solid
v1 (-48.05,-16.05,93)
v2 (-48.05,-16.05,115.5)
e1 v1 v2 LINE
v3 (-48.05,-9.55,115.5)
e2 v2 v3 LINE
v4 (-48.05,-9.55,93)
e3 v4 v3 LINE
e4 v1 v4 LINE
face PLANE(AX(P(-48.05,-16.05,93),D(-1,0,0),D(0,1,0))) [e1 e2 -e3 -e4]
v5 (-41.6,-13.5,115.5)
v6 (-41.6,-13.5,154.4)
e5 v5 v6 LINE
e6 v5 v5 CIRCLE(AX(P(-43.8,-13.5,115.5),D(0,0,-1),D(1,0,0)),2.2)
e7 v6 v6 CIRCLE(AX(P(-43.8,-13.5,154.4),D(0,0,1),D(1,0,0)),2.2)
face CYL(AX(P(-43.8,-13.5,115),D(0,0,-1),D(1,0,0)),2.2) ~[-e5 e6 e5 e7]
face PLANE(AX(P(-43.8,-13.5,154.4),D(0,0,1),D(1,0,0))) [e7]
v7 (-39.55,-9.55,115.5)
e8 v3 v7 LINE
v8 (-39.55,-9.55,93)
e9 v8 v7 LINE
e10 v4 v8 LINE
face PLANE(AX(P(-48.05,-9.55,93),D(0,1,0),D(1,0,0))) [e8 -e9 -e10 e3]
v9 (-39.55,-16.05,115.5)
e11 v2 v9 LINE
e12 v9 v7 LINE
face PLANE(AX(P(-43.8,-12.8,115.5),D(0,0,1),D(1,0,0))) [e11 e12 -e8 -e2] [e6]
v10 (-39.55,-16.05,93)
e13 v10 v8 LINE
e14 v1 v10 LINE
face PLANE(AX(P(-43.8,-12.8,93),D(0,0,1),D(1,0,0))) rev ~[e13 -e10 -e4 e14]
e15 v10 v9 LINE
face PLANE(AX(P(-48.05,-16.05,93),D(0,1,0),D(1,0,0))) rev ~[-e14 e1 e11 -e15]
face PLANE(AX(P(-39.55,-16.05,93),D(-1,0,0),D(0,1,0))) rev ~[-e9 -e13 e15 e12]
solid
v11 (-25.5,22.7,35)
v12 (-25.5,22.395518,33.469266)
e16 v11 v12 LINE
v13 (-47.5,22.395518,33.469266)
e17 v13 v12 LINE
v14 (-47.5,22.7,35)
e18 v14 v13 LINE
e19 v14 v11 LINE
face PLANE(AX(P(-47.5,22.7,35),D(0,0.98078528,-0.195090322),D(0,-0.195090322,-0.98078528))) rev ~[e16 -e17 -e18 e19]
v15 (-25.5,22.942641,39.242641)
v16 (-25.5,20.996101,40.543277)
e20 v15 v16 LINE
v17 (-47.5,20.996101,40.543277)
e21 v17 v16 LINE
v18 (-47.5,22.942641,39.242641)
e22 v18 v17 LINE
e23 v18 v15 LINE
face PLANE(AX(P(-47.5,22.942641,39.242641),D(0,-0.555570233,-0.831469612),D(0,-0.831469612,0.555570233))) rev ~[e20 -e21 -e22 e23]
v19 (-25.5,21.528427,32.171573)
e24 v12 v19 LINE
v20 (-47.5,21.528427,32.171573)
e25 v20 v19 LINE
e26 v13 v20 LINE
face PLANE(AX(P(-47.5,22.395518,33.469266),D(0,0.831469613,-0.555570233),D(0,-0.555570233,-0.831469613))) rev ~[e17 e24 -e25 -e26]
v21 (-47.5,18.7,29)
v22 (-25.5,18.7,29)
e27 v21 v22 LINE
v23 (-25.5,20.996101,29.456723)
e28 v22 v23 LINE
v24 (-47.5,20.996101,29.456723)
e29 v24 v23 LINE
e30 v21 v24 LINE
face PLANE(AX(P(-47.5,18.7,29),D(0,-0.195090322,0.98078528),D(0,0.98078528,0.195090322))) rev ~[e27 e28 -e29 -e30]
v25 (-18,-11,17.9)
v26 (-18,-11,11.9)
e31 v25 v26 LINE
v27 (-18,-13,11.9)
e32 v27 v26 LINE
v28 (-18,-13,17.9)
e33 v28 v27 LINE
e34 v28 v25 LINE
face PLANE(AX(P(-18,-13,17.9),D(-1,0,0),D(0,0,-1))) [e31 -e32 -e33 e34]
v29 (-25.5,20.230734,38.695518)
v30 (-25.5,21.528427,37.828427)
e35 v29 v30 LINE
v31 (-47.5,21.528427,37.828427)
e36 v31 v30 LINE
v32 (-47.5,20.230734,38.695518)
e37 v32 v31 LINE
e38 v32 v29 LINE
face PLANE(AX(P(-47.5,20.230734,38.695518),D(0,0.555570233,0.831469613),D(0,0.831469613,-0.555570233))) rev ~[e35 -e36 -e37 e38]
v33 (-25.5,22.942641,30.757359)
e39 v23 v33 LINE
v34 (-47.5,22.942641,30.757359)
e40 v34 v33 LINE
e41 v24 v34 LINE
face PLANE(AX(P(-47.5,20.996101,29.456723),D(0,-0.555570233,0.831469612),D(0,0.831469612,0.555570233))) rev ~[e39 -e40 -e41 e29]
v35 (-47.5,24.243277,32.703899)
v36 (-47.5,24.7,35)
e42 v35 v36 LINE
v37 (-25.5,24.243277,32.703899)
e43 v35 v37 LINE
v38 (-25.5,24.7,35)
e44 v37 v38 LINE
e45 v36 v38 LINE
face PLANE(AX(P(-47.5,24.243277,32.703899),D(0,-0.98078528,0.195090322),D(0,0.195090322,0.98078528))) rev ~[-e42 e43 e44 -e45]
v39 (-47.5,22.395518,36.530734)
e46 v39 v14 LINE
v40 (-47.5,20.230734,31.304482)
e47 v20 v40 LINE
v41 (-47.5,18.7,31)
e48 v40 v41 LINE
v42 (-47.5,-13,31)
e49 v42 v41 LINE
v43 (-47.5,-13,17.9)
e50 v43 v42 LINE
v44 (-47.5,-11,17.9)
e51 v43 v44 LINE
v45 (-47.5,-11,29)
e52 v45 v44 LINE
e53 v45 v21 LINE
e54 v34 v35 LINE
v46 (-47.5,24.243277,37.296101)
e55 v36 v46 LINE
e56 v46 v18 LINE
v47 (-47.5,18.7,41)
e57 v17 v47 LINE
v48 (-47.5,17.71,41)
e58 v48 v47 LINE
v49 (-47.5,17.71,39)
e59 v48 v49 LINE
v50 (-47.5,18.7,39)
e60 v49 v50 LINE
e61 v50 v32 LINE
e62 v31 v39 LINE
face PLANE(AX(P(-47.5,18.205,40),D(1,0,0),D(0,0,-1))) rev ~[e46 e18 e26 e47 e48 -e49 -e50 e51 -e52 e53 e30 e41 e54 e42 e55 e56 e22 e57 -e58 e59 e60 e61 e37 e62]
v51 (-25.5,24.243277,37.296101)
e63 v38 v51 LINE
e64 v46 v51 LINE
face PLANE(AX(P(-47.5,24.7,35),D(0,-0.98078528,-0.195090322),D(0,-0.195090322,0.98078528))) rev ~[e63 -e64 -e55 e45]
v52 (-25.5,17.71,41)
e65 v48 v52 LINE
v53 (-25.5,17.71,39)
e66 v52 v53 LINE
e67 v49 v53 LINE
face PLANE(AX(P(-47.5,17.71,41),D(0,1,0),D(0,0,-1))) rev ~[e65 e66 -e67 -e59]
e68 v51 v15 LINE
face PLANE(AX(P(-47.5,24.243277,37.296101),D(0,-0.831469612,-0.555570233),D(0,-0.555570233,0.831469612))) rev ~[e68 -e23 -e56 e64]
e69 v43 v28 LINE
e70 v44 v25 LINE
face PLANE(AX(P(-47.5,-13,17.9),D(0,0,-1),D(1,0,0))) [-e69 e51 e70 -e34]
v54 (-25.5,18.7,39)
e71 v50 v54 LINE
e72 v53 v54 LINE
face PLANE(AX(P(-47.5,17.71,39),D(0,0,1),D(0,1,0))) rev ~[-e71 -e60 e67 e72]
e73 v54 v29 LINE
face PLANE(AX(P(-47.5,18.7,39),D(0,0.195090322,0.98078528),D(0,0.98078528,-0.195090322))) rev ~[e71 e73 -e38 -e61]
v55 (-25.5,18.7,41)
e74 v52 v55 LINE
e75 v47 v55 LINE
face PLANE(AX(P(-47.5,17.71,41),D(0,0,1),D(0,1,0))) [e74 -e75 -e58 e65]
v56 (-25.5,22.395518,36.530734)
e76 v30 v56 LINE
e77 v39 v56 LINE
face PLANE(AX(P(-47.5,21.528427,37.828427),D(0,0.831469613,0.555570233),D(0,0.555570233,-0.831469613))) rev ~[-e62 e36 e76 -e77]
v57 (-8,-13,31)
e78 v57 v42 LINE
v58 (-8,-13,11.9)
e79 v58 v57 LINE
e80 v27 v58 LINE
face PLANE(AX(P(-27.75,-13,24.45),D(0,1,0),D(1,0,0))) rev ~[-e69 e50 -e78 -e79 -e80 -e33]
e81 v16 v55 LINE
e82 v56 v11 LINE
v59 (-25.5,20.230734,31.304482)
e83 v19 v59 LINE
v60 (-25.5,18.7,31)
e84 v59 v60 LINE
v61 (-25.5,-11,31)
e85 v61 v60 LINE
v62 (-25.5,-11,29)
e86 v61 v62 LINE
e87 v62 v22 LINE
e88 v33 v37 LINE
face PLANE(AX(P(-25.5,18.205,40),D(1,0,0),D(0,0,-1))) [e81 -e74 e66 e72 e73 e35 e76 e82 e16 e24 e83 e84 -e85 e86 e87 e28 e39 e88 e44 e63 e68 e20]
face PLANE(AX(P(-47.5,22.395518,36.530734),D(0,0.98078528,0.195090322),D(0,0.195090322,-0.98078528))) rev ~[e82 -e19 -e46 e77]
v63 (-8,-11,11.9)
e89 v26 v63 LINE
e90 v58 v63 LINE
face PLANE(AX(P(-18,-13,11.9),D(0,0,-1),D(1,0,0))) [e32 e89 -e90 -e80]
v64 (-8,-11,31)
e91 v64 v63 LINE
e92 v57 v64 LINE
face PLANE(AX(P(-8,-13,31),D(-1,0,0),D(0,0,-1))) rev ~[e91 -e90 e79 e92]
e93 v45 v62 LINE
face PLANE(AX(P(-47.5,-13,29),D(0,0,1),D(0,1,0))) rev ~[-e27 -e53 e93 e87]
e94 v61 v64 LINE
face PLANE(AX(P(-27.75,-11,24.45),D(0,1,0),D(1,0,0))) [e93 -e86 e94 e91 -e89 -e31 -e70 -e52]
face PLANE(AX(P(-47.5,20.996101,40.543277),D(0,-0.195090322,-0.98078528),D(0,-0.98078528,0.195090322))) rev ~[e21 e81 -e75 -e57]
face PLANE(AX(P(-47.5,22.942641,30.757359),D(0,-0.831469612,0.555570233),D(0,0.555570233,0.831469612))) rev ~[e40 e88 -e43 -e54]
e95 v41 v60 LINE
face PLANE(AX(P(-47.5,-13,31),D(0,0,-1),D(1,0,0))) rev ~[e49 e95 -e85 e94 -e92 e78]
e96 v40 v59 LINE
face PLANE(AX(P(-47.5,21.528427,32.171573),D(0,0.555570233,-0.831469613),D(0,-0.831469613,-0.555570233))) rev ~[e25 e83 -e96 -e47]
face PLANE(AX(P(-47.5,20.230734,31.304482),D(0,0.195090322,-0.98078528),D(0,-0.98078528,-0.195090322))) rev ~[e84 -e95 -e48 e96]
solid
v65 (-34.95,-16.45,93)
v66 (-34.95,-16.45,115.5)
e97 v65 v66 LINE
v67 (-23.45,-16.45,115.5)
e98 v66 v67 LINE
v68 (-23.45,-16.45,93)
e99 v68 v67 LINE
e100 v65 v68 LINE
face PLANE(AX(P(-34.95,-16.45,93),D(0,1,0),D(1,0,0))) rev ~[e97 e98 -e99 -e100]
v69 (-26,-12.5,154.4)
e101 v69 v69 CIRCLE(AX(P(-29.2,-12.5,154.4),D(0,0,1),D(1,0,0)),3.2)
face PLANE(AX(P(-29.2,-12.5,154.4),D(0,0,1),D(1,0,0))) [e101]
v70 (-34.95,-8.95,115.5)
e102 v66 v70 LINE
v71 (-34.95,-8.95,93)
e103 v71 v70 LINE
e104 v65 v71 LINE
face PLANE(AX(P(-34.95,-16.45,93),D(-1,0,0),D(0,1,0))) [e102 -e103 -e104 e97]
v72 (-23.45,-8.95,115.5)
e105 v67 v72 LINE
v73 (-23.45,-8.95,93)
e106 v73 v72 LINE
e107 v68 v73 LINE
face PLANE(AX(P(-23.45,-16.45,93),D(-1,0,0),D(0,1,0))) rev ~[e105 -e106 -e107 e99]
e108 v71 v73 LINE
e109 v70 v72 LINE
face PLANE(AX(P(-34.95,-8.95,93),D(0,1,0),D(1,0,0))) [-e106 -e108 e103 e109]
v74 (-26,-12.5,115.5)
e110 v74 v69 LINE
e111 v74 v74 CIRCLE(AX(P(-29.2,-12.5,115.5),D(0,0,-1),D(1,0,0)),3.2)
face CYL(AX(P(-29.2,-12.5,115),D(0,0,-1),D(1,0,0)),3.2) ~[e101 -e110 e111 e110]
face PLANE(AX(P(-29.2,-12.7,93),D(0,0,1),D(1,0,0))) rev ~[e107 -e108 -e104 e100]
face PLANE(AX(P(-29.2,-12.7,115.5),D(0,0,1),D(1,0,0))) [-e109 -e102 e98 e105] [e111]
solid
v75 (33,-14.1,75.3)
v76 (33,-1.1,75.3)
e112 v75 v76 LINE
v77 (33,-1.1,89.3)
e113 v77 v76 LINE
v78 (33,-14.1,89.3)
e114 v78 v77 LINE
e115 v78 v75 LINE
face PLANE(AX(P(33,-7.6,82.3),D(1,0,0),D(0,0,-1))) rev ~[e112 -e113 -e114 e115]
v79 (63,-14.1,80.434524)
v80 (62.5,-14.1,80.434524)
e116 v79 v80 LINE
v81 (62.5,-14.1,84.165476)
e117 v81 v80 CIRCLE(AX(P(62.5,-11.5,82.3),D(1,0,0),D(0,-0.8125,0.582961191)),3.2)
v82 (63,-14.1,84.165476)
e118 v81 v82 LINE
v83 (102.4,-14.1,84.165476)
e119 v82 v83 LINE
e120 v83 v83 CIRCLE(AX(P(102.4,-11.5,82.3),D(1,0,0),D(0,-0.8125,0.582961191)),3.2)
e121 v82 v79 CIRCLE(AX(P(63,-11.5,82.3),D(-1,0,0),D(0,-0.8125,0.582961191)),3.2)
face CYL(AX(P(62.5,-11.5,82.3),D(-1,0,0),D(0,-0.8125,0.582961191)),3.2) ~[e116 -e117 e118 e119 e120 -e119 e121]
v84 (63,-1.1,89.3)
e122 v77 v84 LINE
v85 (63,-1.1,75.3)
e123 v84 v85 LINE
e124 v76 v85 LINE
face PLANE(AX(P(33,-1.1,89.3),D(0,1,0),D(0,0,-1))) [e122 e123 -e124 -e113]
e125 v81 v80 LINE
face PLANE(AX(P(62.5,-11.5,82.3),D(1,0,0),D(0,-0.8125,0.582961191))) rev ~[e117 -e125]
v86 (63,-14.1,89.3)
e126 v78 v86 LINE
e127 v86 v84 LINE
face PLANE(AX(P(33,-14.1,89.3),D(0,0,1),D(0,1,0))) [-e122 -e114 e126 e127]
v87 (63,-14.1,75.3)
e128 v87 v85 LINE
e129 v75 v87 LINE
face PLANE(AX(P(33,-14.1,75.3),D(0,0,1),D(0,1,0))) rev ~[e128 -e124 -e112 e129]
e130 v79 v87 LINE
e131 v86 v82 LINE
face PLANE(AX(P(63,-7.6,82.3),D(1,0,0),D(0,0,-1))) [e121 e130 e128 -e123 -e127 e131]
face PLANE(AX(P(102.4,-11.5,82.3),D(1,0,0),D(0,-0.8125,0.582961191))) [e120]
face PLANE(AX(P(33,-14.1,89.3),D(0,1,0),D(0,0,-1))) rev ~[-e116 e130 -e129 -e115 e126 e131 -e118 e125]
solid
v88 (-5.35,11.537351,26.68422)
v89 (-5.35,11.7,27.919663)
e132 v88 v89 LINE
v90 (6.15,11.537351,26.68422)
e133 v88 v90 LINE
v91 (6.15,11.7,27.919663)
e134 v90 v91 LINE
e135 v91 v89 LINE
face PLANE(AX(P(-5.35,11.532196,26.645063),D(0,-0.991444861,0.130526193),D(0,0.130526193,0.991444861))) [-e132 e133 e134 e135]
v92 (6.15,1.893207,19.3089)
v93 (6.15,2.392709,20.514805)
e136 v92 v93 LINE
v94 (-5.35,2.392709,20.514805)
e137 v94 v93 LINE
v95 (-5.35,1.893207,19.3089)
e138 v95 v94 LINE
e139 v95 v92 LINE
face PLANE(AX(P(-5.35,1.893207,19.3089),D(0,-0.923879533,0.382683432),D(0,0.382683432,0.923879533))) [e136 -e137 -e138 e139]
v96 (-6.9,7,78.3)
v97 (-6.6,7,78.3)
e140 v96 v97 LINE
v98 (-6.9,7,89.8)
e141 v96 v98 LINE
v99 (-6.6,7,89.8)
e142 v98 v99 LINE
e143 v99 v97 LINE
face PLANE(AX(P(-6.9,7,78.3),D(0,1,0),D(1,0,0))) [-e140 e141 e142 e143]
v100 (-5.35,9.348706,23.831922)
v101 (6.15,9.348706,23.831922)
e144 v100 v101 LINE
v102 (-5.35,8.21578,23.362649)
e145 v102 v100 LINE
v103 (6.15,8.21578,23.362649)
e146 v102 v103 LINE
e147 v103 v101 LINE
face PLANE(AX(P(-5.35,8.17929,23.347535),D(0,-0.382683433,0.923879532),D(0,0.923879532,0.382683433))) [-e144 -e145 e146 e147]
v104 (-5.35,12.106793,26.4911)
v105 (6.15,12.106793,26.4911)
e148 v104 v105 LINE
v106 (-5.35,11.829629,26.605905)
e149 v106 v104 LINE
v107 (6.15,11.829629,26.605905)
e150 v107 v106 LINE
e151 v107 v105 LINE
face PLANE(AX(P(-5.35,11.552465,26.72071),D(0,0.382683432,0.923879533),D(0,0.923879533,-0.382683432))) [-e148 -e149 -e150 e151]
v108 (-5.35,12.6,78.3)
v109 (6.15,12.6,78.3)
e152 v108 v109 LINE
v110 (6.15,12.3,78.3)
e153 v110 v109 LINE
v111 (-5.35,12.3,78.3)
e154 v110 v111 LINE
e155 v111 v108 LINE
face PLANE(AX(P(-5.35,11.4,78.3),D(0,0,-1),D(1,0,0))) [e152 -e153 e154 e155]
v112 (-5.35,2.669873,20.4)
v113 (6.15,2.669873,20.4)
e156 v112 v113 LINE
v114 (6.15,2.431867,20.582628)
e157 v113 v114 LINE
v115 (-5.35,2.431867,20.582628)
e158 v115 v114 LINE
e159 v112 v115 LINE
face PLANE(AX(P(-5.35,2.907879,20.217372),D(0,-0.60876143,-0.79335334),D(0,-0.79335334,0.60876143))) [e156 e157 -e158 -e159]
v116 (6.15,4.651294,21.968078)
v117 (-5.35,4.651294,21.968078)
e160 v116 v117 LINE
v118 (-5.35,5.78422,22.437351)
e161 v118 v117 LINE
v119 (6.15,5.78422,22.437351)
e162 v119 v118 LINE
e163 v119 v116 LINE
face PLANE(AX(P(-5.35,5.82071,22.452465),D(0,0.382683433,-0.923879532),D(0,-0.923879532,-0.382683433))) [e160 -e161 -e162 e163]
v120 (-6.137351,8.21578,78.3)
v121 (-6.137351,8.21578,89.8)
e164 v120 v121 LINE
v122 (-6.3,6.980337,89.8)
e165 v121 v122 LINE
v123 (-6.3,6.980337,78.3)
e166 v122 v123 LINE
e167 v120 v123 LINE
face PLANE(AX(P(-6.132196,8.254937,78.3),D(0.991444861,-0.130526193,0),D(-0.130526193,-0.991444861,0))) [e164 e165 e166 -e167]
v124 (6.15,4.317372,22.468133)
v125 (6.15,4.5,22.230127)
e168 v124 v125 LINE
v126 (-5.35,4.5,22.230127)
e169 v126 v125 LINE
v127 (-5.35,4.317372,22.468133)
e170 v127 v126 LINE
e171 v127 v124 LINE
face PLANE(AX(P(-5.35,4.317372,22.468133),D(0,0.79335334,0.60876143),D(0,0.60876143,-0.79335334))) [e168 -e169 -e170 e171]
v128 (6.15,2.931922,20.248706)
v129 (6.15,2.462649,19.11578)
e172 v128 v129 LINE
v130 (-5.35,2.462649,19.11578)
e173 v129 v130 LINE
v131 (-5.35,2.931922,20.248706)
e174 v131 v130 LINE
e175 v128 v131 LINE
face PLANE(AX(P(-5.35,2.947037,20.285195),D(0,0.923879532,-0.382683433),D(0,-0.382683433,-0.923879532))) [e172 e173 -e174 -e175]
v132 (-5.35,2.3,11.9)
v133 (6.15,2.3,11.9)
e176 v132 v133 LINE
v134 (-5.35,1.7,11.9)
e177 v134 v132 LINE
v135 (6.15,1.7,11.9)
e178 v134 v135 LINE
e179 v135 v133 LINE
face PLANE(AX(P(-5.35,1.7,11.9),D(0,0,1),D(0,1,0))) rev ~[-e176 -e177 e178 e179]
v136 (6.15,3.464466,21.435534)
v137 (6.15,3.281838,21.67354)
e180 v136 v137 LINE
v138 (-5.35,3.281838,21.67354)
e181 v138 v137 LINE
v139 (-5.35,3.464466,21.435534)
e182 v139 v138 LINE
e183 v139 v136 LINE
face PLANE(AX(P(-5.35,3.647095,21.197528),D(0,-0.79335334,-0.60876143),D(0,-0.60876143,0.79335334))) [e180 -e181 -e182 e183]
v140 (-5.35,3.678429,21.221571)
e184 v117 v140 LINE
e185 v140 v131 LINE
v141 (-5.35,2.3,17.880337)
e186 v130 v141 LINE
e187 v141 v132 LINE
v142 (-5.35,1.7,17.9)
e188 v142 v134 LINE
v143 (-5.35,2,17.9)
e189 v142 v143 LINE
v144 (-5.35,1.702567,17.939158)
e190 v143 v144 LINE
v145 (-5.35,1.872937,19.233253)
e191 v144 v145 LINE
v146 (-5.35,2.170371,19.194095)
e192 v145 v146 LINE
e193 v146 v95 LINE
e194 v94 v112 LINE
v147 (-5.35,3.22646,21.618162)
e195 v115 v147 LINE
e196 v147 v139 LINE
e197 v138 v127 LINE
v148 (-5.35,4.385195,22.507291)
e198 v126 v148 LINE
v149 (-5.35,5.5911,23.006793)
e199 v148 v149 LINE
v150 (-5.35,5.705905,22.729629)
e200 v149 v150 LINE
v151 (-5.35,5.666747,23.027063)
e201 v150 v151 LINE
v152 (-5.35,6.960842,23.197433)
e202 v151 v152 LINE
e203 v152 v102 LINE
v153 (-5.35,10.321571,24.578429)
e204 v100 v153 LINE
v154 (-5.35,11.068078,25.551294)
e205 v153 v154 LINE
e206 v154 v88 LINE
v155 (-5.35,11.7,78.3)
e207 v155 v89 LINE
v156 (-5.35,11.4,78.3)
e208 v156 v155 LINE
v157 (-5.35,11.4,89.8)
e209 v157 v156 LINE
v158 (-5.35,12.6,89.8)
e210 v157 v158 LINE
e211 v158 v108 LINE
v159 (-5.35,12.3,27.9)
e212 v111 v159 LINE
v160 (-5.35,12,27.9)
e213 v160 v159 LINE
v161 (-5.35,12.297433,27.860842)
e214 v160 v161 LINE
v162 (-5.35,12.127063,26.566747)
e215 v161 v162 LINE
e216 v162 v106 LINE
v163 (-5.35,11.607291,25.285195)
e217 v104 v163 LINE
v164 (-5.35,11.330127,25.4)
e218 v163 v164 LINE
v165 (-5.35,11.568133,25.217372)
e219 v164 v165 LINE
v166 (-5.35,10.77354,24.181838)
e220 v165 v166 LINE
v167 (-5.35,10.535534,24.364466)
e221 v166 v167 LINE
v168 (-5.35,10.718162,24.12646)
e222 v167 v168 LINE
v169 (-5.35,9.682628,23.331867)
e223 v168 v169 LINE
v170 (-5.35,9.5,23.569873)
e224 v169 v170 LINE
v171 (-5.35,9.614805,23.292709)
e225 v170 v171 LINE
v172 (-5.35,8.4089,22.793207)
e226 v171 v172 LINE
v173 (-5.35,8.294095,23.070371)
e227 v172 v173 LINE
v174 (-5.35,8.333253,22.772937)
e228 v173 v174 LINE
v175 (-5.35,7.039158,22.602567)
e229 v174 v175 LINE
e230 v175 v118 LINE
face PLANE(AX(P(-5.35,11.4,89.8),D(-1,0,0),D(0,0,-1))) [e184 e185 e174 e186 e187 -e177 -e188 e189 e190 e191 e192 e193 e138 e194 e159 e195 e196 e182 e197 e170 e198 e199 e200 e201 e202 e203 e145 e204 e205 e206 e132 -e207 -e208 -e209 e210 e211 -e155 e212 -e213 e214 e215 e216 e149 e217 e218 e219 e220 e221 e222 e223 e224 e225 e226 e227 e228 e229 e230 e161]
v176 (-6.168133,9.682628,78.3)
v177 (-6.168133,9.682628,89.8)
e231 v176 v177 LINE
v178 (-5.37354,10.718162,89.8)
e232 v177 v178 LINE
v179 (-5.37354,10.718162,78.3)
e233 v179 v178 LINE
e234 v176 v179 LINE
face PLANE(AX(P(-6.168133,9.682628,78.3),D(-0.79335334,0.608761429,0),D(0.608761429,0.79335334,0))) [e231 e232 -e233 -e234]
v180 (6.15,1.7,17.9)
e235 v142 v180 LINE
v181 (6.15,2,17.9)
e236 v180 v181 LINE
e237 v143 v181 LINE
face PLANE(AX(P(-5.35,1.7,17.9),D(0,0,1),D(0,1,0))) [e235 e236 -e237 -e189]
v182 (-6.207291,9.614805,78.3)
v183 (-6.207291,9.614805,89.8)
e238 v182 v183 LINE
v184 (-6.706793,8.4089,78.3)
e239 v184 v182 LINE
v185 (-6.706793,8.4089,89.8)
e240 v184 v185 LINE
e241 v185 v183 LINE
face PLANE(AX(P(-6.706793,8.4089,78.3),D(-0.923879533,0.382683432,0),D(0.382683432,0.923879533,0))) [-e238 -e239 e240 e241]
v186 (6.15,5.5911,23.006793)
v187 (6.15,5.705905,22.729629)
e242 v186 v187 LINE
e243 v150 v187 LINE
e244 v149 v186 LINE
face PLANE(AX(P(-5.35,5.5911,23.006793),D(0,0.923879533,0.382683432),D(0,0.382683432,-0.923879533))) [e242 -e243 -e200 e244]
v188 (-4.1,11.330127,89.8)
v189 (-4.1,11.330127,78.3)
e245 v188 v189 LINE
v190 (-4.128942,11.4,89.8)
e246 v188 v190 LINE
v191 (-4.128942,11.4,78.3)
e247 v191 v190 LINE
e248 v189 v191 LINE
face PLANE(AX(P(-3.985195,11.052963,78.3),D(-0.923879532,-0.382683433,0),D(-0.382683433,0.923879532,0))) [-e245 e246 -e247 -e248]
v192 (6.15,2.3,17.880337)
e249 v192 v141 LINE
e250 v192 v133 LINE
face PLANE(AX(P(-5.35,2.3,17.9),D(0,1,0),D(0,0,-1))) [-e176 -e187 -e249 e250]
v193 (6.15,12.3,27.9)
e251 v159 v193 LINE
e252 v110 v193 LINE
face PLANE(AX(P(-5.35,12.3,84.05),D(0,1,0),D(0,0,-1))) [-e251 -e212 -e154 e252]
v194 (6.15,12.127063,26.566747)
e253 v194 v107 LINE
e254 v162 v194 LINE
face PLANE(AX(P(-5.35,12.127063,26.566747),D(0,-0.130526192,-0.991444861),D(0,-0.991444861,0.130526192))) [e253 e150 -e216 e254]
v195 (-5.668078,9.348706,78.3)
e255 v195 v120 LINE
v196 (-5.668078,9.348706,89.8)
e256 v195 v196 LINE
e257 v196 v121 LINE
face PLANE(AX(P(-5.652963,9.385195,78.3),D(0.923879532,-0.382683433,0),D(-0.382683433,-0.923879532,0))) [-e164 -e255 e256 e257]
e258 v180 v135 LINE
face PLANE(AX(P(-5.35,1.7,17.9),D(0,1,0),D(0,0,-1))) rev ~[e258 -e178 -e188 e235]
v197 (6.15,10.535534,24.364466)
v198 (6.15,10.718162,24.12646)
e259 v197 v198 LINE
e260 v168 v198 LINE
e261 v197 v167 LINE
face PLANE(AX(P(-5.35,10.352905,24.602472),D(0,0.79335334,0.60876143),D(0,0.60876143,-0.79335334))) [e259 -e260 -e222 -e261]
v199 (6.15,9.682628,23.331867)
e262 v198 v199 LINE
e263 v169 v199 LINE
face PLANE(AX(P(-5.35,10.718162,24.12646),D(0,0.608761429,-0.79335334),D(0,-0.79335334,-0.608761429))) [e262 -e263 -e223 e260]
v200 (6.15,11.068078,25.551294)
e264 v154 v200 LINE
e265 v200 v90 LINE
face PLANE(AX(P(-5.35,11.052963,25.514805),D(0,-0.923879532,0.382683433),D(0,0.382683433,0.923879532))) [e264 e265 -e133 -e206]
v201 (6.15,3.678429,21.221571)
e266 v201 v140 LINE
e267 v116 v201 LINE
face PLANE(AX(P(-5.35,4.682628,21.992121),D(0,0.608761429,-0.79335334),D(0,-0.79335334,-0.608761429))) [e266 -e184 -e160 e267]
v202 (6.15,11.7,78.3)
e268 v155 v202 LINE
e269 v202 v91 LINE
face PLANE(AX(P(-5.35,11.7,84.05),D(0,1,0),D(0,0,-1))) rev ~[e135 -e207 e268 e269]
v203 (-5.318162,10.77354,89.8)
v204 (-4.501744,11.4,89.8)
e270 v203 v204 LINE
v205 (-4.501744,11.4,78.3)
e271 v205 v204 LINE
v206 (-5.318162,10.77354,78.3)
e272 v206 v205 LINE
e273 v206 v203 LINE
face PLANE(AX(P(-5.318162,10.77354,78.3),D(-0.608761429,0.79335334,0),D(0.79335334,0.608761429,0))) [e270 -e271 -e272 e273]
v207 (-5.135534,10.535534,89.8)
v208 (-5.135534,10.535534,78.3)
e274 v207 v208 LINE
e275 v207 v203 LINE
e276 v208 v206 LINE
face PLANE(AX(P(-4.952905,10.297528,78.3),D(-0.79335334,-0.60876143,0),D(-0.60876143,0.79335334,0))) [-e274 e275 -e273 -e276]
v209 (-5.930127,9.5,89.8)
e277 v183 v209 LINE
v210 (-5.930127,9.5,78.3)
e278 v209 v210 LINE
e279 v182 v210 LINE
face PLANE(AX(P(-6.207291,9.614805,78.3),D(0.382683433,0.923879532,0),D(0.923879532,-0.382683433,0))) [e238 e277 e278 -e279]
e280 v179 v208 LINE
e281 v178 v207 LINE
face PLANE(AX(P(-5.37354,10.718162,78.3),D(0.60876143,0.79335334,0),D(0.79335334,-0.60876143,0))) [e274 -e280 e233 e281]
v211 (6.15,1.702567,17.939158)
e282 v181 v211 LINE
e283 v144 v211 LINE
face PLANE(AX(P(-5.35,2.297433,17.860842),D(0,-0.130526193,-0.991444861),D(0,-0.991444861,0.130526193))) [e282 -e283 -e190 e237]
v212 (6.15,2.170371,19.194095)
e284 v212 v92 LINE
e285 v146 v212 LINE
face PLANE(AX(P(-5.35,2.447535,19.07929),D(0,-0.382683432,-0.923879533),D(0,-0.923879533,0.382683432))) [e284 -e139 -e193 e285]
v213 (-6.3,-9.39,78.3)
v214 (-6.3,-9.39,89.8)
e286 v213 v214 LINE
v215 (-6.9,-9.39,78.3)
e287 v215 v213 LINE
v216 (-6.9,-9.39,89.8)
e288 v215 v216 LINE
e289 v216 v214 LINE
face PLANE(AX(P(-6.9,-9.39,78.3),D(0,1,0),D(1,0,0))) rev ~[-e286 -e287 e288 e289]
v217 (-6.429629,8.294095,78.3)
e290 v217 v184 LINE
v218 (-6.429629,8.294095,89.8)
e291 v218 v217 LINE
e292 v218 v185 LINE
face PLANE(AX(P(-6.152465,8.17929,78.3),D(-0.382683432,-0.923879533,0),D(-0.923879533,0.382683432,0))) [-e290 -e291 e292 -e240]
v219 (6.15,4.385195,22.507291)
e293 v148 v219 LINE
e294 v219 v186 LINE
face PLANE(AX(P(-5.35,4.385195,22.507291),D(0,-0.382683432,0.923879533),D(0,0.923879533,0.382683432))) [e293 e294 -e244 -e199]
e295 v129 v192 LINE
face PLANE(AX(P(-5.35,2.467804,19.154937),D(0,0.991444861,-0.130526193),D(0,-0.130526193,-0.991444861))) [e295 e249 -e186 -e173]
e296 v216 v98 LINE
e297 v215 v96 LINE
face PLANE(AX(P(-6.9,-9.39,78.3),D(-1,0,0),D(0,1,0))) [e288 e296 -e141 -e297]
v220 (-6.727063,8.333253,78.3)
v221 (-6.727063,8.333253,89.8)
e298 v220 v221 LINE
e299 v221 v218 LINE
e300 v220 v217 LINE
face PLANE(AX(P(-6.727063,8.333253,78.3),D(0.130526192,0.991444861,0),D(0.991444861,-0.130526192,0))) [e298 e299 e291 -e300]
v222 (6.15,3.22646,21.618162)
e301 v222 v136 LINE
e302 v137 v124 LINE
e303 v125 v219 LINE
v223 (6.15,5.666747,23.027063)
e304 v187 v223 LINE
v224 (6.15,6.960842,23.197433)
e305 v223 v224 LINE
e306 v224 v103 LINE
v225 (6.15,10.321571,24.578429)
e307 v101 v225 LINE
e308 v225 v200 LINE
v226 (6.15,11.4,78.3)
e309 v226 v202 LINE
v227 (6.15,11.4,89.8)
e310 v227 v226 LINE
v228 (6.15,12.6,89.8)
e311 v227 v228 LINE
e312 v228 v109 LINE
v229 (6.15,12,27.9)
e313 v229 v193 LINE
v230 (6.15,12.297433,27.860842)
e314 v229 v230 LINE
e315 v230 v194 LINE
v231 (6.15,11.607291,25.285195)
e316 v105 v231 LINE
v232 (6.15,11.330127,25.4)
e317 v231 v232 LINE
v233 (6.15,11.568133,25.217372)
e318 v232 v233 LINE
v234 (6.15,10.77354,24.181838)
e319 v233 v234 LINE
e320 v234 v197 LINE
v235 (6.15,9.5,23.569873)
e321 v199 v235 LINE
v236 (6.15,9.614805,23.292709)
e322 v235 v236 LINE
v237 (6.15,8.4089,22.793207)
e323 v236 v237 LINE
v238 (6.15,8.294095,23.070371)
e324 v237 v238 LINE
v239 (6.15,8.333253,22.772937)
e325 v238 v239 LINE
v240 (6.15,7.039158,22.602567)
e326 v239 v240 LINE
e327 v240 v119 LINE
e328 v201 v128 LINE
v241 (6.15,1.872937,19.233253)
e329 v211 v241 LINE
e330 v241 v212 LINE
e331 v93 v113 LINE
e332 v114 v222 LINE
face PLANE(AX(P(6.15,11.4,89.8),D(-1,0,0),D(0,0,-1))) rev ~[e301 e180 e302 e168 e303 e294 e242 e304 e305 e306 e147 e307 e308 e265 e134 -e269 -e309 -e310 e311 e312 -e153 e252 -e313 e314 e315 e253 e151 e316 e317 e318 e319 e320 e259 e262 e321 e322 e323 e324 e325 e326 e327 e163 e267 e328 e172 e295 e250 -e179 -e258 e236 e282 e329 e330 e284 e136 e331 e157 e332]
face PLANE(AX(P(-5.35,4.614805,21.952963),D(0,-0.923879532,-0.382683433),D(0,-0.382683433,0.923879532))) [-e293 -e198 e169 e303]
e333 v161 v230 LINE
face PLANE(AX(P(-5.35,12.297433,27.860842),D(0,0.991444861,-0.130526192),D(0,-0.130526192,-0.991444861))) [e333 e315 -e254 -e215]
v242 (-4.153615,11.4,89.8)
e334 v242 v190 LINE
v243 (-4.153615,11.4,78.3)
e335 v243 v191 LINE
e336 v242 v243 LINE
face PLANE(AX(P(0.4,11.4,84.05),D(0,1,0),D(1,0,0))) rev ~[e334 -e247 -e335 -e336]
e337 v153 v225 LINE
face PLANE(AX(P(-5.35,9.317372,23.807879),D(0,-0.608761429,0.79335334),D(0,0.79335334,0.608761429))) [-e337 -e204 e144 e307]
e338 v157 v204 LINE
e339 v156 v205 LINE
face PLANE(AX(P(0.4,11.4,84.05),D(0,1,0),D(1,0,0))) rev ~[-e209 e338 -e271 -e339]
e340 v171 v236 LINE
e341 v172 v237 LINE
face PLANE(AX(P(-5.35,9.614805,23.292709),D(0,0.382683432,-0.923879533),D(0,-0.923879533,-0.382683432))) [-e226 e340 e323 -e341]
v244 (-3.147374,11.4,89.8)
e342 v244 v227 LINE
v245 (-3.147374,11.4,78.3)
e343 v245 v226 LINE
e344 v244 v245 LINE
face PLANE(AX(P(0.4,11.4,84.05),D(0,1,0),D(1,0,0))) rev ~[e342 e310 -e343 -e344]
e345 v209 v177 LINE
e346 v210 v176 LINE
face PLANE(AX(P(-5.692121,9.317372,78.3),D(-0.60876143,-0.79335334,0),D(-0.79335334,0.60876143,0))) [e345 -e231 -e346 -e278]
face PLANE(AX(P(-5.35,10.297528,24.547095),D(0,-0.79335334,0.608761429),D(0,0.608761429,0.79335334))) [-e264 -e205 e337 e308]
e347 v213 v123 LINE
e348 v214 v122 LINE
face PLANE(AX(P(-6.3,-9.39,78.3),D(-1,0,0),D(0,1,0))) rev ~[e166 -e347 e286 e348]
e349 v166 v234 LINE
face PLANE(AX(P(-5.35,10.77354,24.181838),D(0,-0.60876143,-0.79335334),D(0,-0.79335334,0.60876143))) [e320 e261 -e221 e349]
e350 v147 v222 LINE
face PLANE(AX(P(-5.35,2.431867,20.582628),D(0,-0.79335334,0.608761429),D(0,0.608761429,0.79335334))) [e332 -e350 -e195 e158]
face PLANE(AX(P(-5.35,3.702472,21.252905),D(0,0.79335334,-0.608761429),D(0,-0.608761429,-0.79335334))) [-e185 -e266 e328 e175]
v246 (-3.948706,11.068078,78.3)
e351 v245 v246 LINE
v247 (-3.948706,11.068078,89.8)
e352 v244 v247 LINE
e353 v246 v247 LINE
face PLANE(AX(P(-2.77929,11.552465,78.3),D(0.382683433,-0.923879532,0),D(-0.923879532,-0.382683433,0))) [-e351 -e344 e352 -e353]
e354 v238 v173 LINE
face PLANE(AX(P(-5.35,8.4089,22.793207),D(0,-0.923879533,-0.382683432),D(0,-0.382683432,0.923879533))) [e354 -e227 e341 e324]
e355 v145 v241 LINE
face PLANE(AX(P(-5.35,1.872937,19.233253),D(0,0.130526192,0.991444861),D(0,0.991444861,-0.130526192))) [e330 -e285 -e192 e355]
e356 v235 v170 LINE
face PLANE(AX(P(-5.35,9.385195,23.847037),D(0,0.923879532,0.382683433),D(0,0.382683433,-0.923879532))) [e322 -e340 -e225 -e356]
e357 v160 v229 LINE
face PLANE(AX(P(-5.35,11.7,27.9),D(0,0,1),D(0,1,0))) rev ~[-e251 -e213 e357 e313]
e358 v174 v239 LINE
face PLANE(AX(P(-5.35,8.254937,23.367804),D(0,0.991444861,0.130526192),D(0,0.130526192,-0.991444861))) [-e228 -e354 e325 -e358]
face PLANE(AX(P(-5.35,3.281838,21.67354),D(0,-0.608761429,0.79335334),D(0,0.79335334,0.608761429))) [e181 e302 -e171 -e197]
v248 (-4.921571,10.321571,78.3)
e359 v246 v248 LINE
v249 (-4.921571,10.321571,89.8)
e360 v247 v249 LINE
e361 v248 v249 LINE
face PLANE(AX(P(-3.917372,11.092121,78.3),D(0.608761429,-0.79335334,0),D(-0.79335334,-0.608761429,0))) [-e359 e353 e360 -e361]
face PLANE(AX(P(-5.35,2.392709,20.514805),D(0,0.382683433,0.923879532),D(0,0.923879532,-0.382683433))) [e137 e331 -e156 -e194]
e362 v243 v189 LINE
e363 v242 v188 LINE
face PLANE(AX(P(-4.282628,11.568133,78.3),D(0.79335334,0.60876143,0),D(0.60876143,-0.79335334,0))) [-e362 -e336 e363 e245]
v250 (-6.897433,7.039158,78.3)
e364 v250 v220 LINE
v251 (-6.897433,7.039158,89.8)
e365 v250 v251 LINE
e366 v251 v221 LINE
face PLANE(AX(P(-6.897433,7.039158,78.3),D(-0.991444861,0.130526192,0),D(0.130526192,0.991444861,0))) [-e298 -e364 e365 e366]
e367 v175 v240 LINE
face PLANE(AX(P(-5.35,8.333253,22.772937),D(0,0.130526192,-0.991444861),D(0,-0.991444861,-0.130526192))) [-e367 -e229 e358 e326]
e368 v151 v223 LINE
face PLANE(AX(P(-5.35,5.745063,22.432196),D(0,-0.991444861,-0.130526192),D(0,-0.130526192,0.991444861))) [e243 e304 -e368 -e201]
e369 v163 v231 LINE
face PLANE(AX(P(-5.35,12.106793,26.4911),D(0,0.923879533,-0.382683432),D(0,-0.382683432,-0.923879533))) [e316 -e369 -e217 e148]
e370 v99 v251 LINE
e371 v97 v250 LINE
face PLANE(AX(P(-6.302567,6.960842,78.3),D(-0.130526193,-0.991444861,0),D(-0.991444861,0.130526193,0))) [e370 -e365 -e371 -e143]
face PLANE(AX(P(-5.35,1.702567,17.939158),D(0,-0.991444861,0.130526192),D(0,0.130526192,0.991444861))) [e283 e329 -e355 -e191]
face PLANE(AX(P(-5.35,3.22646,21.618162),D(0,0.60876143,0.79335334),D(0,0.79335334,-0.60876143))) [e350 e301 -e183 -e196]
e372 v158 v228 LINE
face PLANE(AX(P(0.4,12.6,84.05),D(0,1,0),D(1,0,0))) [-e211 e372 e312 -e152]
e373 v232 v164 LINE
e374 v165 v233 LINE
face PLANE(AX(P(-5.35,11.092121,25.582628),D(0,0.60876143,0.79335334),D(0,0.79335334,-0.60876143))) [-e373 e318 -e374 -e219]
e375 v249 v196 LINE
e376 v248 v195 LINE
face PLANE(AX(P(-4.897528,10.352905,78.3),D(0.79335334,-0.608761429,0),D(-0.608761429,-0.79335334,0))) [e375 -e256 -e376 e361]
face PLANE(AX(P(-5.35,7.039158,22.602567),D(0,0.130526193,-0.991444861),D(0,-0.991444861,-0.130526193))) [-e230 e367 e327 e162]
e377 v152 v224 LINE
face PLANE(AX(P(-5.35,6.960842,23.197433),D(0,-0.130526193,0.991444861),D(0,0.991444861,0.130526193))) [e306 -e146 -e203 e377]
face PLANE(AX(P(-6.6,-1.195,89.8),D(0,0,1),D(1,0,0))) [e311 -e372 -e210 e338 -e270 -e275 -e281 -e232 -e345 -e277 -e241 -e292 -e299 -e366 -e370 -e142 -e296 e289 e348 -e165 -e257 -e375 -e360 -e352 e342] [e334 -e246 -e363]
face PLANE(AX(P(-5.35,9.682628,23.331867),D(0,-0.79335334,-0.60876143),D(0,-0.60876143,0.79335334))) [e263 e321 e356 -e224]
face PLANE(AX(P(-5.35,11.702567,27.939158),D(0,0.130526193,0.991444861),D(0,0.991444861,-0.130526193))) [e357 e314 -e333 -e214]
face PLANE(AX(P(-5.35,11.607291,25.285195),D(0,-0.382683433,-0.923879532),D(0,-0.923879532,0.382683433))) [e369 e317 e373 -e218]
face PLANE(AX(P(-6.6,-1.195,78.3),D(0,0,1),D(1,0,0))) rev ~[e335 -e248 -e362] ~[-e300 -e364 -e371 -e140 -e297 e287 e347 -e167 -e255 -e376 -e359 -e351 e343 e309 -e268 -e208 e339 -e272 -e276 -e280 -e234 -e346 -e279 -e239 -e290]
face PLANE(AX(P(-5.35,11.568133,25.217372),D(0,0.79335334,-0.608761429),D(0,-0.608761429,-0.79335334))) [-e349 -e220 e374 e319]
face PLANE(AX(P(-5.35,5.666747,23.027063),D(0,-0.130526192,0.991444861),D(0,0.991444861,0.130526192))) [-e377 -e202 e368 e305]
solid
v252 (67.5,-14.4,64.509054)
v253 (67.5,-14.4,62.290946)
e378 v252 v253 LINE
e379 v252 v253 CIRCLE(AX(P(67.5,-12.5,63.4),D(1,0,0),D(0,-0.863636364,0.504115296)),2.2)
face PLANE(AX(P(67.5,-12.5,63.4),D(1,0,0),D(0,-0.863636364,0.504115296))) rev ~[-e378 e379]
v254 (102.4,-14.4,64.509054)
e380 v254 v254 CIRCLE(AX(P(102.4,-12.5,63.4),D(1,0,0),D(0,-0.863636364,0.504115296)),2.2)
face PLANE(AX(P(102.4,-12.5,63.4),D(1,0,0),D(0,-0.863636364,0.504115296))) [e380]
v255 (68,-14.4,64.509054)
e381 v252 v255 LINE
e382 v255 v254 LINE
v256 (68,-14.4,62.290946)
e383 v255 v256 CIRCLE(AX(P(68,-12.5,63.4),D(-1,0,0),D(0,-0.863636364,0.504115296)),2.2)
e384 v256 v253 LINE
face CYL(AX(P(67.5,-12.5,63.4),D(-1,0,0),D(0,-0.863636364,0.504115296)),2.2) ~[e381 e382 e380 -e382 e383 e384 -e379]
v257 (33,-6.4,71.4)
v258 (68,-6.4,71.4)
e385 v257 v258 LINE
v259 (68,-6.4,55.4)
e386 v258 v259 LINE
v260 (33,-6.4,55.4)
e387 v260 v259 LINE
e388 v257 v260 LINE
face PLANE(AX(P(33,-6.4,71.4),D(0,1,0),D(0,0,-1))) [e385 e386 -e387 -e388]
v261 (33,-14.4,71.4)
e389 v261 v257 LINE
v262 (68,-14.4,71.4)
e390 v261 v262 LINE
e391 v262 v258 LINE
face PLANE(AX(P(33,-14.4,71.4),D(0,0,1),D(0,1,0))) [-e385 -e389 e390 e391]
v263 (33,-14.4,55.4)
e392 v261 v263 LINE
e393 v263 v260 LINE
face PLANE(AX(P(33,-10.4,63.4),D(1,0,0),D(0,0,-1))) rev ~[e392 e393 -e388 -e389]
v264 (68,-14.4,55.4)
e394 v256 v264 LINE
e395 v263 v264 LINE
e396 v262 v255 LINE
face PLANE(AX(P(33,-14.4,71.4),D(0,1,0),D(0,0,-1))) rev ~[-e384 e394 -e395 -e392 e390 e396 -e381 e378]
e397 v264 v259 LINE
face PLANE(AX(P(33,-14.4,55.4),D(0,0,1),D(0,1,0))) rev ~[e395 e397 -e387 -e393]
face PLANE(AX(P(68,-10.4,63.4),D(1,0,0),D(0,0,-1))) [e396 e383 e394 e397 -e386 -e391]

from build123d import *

# Parameters (mm, degrees)
SKETCH1_W                   = 8.5
SKETCH1_H                   = 6.5
PLUG_USBC_DEPTH             = 22.5
SKETCH2_R                   = 2.2
CABLE_USBC_DEPTH            = 39.4
SKETCH3_W                   = 11.5
SKETCH3_H                   = 7.5
PLUG_HDMI_DEPTH             = 22.5
SKETCH4_R                   = 3.2
CABLE_HDMI_DEPTH            = 39.4
SKETCH5_W                   = 14
SKETCH5_H                   = 13
PLUG_ETH_DEPTH              = 30
SKETCH6_R                   = 3.2
CABLE_ETH_DEPTH             = 39.9
SKETCH7_W                   = 16
SKETCH7_H                   = 8
PLUG_USBA_DEPTH             = 35
SKETCH8_R                   = 2.2
CABLE_USBA_DEPTH            = 34.9
SKETCH9_W                   = 6
SKETCH9_H                   = 0.6
RIBBON_0_DEPTH              = 11.5
RIBBON_1_DEPTH              = 11.5
RIBBON_2_DEPTH              = 11.5
RIBBON_3_DEPTH              = 11.5
RIBBON_4_DEPTH              = 11.5
RIBBON_5_DEPTH              = 11.5
RIBBON_6_DEPTH              = 11.5
RIBBON_7_DEPTH              = 11.5
RIBBON_8_DEPTH              = 11.5
RIBBON_9_DEPTH              = 11.5
RIBBON_10_DEPTH             = 11.5
RIBBON_11_DEPTH             = 11.5
RIBBON_12_DEPTH             = 11.5
SKETCH22_W                  = 56.15
SKETCH22_H                  = 0.6
RIBBON_13_DEPTH             = 11.5
SKETCH23_W                  = 11.5
SKETCH23_H                  = 11.5
RIBBON_FOLD_DEPTH           = 1.2
SKETCH24_W                  = 2
SKETCH24_H                  = 0.6
RIBBON_14_DEPTH             = 11.5
RIBBON_15_DEPTH             = 11.5
RIBBON_16_DEPTH             = 11.5
RIBBON_17_DEPTH             = 11.5
RIBBON_18_DEPTH             = 11.5
RIBBON_19_DEPTH             = 11.5
RIBBON_20_DEPTH             = 11.5
SKETCH31_W                  = 0.6
SKETCH31_H                  = 16.39
RIBBON_21_DEPTH             = 11.5
SKETCH32_W                  = 10
SKETCH32_H                  = 6
JUMPERS_WINDOW_DEPTH        = 2
SKETCH33_W                  = 39.5
SKETCH33_H                  = 13.1
JUMPERS_ACROSS_DEPTH        = 2
SKETCH34_W                  = 2
SKETCH34_H                  = 31.7
JUMPERS_RISE_DEPTH          = 22
JUMPERS_HAIRPIN_DEPTH       = 22
SKETCH36_W                  = 2
SKETCH36_H                  = 0.99
JUMPERS_INTO_HOUSINGS_DEPTH = 22


with BuildPart() as part:
    # Sketch1 → Plug usbc (new body)
    with BuildSketch(Plane.XY.offset(93)):
        with Locations((-43.8, -12.8)):
            Rectangle(SKETCH1_W, SKETCH1_H)
    extrude(amount=PLUG_USBC_DEPTH)

    # Sketch2 → Cable usbc (add)
    with BuildSketch(Plane.XY.offset(115)):
        with Locations((-43.8, -13.5)):
            Circle(SKETCH2_R)
    extrude(amount=CABLE_USBC_DEPTH)


with BuildPart() as body_2:
    # Sketch3 → Plug hdmi (new body)
    with BuildSketch(Plane.XY.offset(93)):
        with Locations((-29.2, -12.7)):
            Rectangle(SKETCH3_W, SKETCH3_H)
    extrude(amount=PLUG_HDMI_DEPTH)

    # Sketch4 → Cable hdmi (add)
    with BuildSketch(Plane.XY.offset(115)):
        with Locations((-29.2, -12.5)):
            Circle(SKETCH4_R)
    extrude(amount=CABLE_HDMI_DEPTH)


with BuildPart() as body_3:
    # Sketch5 → Plug eth (new body)
    with BuildSketch(Plane(origin=(33, 0, 0), x_dir=(0, 0, -1), z_dir=(1, 0, 0))):
        with Locations((-82.3, -7.6)):
            Rectangle(SKETCH5_W, SKETCH5_H)
    extrude(amount=PLUG_ETH_DEPTH)

    # Sketch6 → Cable eth (add)
    with BuildSketch(Plane(origin=(62.5, 0, 0), x_dir=(0, 0, -1), z_dir=(1, 0, 0))):
        with Locations(Location((-82.3, -11.5, 0), (0, 0, 234.340912304))):
            Circle(SKETCH6_R)
    extrude(amount=CABLE_ETH_DEPTH)


with BuildPart() as body_4:
    # Sketch7 → Plug usba (new body)
    with BuildSketch(Plane(origin=(33, 0, 0), x_dir=(0, 0, -1), z_dir=(1, 0, 0))):
        with Locations((-63.4, -10.4)):
            Rectangle(SKETCH7_W, SKETCH7_H)
    extrude(amount=PLUG_USBA_DEPTH)

    # Sketch8 → Cable usba (add)
    with BuildSketch(Plane(origin=(67.5, 0, 0), x_dir=(0, 0, -1), z_dir=(1, 0, 0))):
        with Locations(Location((-63.4, -12.5, 0), (0, 0, 239.727358681))):
            Circle(SKETCH8_R)
    extrude(amount=CABLE_USBA_DEPTH)


with BuildPart() as body_5:
    # Sketch9 → Ribbon 0 (new body)
    with BuildSketch(Plane(origin=(-5.35, 0, 0), x_dir=(0, 0, -1), z_dir=(1, 0, 0))):
        with Locations((-14.9, 2)):
            Rectangle(SKETCH9_W, SKETCH9_H)
    extrude(amount=RIBBON_0_DEPTH)

    # Sketch10 → Ribbon 1 (add)
    with BuildSketch(Plane(origin=(-5.35, 0, 0), x_dir=(0, 0, -1), z_dir=(1, 0, 0))):
        Polygon((-17.939157858, 1.702566542), (-19.233253083, 1.87293741), (-19.154937368, 2.467804327), (-17.860842142, 2.297433458), align=None)
    extrude(amount=RIBBON_1_DEPTH)

    # Sketch11 → Ribbon 2 (add)
    with BuildSketch(Plane(origin=(-5.35, 0, 0), x_dir=(0, 0, -1), z_dir=(1, 0, 0))):
        Polygon((-19.308900255, 1.893207009), (-20.51480503, 2.392709121), (-20.28519497, 2.947036841), (-19.079290196, 2.447534728), align=None)
    extrude(amount=RIBBON_2_DEPTH)

    # Sketch12 → Ribbon 3 (add)
    with BuildSketch(Plane(origin=(-5.35, 0, 0), x_dir=(0, 0, -1), z_dir=(1, 0, 0))):
        Polygon((-20.582628429, 2.431866979), (-21.618162335, 3.226460092), (-21.252905477, 3.702472096), (-20.217371571, 2.907878983), align=None)
    extrude(amount=RIBBON_3_DEPTH)

    # Sketch13 → Ribbon 4 (add)
    with BuildSketch(Plane(origin=(-5.35, 0, 0), x_dir=(0, 0, -1), z_dir=(1, 0, 0))):
        Polygon((-21.673539908, 3.281837665), (-22.468133021, 4.317371571), (-21.992121017, 4.682628429), (-21.197527904, 3.647094523), align=None)
    extrude(amount=RIBBON_4_DEPTH)

    # Sketch14 → Ribbon 5 (add)
    with BuildSketch(Plane(origin=(-5.35, 0, 0), x_dir=(0, 0, -1), z_dir=(1, 0, 0))):
        Polygon((-22.507290879, 4.38519497), (-23.006792991, 5.591099745), (-22.452465272, 5.820709804), (-21.952963159, 4.61480503), align=None)
    extrude(amount=RIBBON_5_DEPTH)

    # Sketch15 → Ribbon 6 (add)
    with BuildSketch(Plane(origin=(-5.35, 0, 0), x_dir=(0, 0, -1), z_dir=(1, 0, 0))):
        Polygon((-23.02706259, 5.666746917), (-23.197433458, 6.960842142), (-22.602566542, 7.039157858), (-22.432195673, 5.745062632), align=None)
    extrude(amount=RIBBON_6_DEPTH)

    # Sketch16 → Ribbon 7 (add)
    with BuildSketch(Plane(origin=(-5.35, 0, 0), x_dir=(0, 0, -1), z_dir=(1, 0, 0))):
        Polygon((-23.197433458, 6.960842142), (-23.367804327, 8.254937368), (-22.77293741, 8.333253083), (-22.602566542, 7.039157858), align=None)
    extrude(amount=RIBBON_7_DEPTH)

    # Sketch17 → Ribbon 8 (add)
    with BuildSketch(Plane(origin=(-5.35, 0, 0), x_dir=(0, 0, -1), z_dir=(1, 0, 0))):
        Polygon((-23.347534728, 8.179290196), (-23.847036841, 9.38519497), (-23.292709121, 9.61480503), (-22.793207009, 8.408900255), align=None)
    extrude(amount=RIBBON_8_DEPTH)

    # Sketch18 → Ribbon 9 (add)
    with BuildSketch(Plane(origin=(-5.35, 0, 0), x_dir=(0, 0, -1), z_dir=(1, 0, 0))):
        Polygon((-23.807878983, 9.317371571), (-24.602472096, 10.352905477), (-24.126460092, 10.718162335), (-23.331866979, 9.682628429), align=None)
    extrude(amount=RIBBON_9_DEPTH)

    # Sketch19 → Ribbon 10 (add)
    with BuildSketch(Plane(origin=(-5.35, 0, 0), x_dir=(0, 0, -1), z_dir=(1, 0, 0))):
        Polygon((-24.547094523, 10.297527904), (-25.582628429, 11.092121017), (-25.217371571, 11.568133021), (-24.181837665, 10.773539908), align=None)
    extrude(amount=RIBBON_10_DEPTH)

    # Sketch20 → Ribbon 11 (add)
    with BuildSketch(Plane(origin=(-5.35, 0, 0), x_dir=(0, 0, -1), z_dir=(1, 0, 0))):
        Polygon((-25.51480503, 11.052963159), (-26.720709804, 11.552465272), (-26.491099745, 12.106792991), (-25.28519497, 11.607290879), align=None)
    extrude(amount=RIBBON_11_DEPTH)

    # Sketch21 → Ribbon 12 (add)
    with BuildSketch(Plane(origin=(-5.35, 0, 0), x_dir=(0, 0, -1), z_dir=(1, 0, 0))):
        Polygon((-26.645062632, 11.532195673), (-27.939157858, 11.702566542), (-27.860842142, 12.297433458), (-26.566746917, 12.12706259), align=None)
    extrude(amount=RIBBON_12_DEPTH)

    # Sketch22 → Ribbon 13 (add)
    with BuildSketch(Plane(origin=(-5.35, 0, 0), x_dir=(0, 0, -1), z_dir=(1, 0, 0))):
        with Locations((-55.975, 12)):
            Rectangle(SKETCH22_W, SKETCH22_H)
    extrude(amount=RIBBON_13_DEPTH)

    # Sketch23 → Ribbon Fold (add)
    with BuildSketch(Plane(origin=(0, 11.4, 0), x_dir=(1, 0, 0), z_dir=(0, 1, 0))):
        with Locations((0.4, -84.05)):
            Rectangle(SKETCH23_W, SKETCH23_H)
    extrude(amount=RIBBON_FOLD_DEPTH)

    # Sketch24 → Ribbon 14 (add)
    with BuildSketch(Plane.XY.offset(78.3)):
        with Locations((-0.6, 12)):
            Rectangle(SKETCH24_W, SKETCH24_H)
    extrude(amount=RIBBON_14_DEPTH)

    # Sketch25 → Ribbon 15 (add)
    with BuildSketch(Plane.XY.offset(78.3)):
        Polygon((-1.560842142, 11.702566542), (-2.854937368, 11.532195673), (-2.933253083, 12.12706259), (-1.639157858, 12.297433458), align=None)
    extrude(amount=RIBBON_15_DEPTH)

    # Sketch26 → Ribbon 16 (add)
    with BuildSketch(Plane.XY.offset(78.3)):
        Polygon((-2.779290196, 11.552465272), (-3.98519497, 11.052963159), (-4.21480503, 11.607290879), (-3.008900255, 12.106792991), align=None)
    extrude(amount=RIBBON_16_DEPTH)

    # Sketch27 → Ribbon 17 (add)
    with BuildSketch(Plane.XY.offset(78.3)):
        Polygon((-3.917371571, 11.092121017), (-4.952905477, 10.297527904), (-5.318162335, 10.773539908), (-4.282628429, 11.568133021), align=None)
    extrude(amount=RIBBON_17_DEPTH)

    # Sketch28 → Ribbon 18 (add)
    with BuildSketch(Plane.XY.offset(78.3)):
        Polygon((-4.897527904, 10.352905477), (-5.692121017, 9.317371571), (-6.168133021, 9.682628429), (-5.373539908, 10.718162335), align=None)
    extrude(amount=RIBBON_18_DEPTH)

    # Sketch29 → Ribbon 19 (add)
    with BuildSketch(Plane.XY.offset(78.3)):
        Polygon((-5.652963159, 9.38519497), (-6.152465272, 8.179290196), (-6.706792991, 8.408900255), (-6.207290879, 9.61480503), align=None)
    extrude(amount=RIBBON_19_DEPTH)

    # Sketch30 → Ribbon 20 (add)
    with BuildSketch(Plane.XY.offset(78.3)):
        Polygon((-6.132195673, 8.254937368), (-6.302566542, 6.960842142), (-6.897433458, 7.039157858), (-6.72706259, 8.333253083), align=None)
    extrude(amount=RIBBON_20_DEPTH)

    # Sketch31 → Ribbon 21 (add)
    with BuildSketch(Plane.XY.offset(78.3)):
        with Locations((-6.6, -1.195)):
            Rectangle(SKETCH31_W, SKETCH31_H)
    extrude(amount=RIBBON_21_DEPTH)


with BuildPart() as body_6:
    # Sketch32 → Jumpers Window (new body)
    with BuildSketch(Plane(origin=(0, -13, 0), x_dir=(1, 0, 0), z_dir=(0, 1, 0))):
        with Locations((-13, -14.9)):
            Rectangle(SKETCH32_W, SKETCH32_H)
    extrude(amount=JUMPERS_WINDOW_DEPTH)

    # Sketch33 → Jumpers Across (add)
    with BuildSketch(Plane(origin=(0, -13, 0), x_dir=(1, 0, 0), z_dir=(0, 1, 0))):
        with Locations((-27.75, -24.45)):
            Rectangle(SKETCH33_W, SKETCH33_H)
    extrude(amount=JUMPERS_ACROSS_DEPTH)

    # Sketch34 → Jumpers Rise (add)
    with BuildSketch(Plane(origin=(-47.5, 0, 0), x_dir=(0, 0, -1), z_dir=(1, 0, 0))):
        with Locations((-30, 2.85)):
            Rectangle(SKETCH34_W, SKETCH34_H)
    extrude(amount=JUMPERS_RISE_DEPTH)

    # Sketch35 → Jumpers Hairpin (add)
    with BuildSketch(Plane(origin=(-47.5, 0, 0), x_dir=(0, 0, -1), z_dir=(1, 0, 0))):
        Polygon((-29, 18.7), (-29.456722805, 20.996100594), (-30.757359313, 22.942640687), (-32.703899406, 24.243277195), (-35, 24.7), (-37.296100594, 24.243277195), (-39.242640687, 22.942640687), (-40.543277195, 20.996100594), (-41, 18.7), (-39, 18.7), (-38.69551813, 20.230733729), (-37.828427125, 21.528427125), (-36.530733729, 22.39551813), (-35, 22.7), (-33.469266271, 22.39551813), (-32.171572875, 21.528427125), (-31.30448187, 20.230733729), (-31, 18.7), align=None)
    extrude(amount=JUMPERS_HAIRPIN_DEPTH)

    # Sketch36 → Jumpers Into Housings (add)
    with BuildSketch(Plane(origin=(-47.5, 0, 0), x_dir=(0, 0, -1), z_dir=(1, 0, 0))):
        with Locations((-40, 18.205)):
            Rectangle(SKETCH36_W, SKETCH36_H)
    extrude(amount=JUMPERS_INTO_HOUSINGS_DEPTH)


solid = Compound([part.part, body_2.part, body_3.part, body_4.part, body_5.part, body_6.part])
